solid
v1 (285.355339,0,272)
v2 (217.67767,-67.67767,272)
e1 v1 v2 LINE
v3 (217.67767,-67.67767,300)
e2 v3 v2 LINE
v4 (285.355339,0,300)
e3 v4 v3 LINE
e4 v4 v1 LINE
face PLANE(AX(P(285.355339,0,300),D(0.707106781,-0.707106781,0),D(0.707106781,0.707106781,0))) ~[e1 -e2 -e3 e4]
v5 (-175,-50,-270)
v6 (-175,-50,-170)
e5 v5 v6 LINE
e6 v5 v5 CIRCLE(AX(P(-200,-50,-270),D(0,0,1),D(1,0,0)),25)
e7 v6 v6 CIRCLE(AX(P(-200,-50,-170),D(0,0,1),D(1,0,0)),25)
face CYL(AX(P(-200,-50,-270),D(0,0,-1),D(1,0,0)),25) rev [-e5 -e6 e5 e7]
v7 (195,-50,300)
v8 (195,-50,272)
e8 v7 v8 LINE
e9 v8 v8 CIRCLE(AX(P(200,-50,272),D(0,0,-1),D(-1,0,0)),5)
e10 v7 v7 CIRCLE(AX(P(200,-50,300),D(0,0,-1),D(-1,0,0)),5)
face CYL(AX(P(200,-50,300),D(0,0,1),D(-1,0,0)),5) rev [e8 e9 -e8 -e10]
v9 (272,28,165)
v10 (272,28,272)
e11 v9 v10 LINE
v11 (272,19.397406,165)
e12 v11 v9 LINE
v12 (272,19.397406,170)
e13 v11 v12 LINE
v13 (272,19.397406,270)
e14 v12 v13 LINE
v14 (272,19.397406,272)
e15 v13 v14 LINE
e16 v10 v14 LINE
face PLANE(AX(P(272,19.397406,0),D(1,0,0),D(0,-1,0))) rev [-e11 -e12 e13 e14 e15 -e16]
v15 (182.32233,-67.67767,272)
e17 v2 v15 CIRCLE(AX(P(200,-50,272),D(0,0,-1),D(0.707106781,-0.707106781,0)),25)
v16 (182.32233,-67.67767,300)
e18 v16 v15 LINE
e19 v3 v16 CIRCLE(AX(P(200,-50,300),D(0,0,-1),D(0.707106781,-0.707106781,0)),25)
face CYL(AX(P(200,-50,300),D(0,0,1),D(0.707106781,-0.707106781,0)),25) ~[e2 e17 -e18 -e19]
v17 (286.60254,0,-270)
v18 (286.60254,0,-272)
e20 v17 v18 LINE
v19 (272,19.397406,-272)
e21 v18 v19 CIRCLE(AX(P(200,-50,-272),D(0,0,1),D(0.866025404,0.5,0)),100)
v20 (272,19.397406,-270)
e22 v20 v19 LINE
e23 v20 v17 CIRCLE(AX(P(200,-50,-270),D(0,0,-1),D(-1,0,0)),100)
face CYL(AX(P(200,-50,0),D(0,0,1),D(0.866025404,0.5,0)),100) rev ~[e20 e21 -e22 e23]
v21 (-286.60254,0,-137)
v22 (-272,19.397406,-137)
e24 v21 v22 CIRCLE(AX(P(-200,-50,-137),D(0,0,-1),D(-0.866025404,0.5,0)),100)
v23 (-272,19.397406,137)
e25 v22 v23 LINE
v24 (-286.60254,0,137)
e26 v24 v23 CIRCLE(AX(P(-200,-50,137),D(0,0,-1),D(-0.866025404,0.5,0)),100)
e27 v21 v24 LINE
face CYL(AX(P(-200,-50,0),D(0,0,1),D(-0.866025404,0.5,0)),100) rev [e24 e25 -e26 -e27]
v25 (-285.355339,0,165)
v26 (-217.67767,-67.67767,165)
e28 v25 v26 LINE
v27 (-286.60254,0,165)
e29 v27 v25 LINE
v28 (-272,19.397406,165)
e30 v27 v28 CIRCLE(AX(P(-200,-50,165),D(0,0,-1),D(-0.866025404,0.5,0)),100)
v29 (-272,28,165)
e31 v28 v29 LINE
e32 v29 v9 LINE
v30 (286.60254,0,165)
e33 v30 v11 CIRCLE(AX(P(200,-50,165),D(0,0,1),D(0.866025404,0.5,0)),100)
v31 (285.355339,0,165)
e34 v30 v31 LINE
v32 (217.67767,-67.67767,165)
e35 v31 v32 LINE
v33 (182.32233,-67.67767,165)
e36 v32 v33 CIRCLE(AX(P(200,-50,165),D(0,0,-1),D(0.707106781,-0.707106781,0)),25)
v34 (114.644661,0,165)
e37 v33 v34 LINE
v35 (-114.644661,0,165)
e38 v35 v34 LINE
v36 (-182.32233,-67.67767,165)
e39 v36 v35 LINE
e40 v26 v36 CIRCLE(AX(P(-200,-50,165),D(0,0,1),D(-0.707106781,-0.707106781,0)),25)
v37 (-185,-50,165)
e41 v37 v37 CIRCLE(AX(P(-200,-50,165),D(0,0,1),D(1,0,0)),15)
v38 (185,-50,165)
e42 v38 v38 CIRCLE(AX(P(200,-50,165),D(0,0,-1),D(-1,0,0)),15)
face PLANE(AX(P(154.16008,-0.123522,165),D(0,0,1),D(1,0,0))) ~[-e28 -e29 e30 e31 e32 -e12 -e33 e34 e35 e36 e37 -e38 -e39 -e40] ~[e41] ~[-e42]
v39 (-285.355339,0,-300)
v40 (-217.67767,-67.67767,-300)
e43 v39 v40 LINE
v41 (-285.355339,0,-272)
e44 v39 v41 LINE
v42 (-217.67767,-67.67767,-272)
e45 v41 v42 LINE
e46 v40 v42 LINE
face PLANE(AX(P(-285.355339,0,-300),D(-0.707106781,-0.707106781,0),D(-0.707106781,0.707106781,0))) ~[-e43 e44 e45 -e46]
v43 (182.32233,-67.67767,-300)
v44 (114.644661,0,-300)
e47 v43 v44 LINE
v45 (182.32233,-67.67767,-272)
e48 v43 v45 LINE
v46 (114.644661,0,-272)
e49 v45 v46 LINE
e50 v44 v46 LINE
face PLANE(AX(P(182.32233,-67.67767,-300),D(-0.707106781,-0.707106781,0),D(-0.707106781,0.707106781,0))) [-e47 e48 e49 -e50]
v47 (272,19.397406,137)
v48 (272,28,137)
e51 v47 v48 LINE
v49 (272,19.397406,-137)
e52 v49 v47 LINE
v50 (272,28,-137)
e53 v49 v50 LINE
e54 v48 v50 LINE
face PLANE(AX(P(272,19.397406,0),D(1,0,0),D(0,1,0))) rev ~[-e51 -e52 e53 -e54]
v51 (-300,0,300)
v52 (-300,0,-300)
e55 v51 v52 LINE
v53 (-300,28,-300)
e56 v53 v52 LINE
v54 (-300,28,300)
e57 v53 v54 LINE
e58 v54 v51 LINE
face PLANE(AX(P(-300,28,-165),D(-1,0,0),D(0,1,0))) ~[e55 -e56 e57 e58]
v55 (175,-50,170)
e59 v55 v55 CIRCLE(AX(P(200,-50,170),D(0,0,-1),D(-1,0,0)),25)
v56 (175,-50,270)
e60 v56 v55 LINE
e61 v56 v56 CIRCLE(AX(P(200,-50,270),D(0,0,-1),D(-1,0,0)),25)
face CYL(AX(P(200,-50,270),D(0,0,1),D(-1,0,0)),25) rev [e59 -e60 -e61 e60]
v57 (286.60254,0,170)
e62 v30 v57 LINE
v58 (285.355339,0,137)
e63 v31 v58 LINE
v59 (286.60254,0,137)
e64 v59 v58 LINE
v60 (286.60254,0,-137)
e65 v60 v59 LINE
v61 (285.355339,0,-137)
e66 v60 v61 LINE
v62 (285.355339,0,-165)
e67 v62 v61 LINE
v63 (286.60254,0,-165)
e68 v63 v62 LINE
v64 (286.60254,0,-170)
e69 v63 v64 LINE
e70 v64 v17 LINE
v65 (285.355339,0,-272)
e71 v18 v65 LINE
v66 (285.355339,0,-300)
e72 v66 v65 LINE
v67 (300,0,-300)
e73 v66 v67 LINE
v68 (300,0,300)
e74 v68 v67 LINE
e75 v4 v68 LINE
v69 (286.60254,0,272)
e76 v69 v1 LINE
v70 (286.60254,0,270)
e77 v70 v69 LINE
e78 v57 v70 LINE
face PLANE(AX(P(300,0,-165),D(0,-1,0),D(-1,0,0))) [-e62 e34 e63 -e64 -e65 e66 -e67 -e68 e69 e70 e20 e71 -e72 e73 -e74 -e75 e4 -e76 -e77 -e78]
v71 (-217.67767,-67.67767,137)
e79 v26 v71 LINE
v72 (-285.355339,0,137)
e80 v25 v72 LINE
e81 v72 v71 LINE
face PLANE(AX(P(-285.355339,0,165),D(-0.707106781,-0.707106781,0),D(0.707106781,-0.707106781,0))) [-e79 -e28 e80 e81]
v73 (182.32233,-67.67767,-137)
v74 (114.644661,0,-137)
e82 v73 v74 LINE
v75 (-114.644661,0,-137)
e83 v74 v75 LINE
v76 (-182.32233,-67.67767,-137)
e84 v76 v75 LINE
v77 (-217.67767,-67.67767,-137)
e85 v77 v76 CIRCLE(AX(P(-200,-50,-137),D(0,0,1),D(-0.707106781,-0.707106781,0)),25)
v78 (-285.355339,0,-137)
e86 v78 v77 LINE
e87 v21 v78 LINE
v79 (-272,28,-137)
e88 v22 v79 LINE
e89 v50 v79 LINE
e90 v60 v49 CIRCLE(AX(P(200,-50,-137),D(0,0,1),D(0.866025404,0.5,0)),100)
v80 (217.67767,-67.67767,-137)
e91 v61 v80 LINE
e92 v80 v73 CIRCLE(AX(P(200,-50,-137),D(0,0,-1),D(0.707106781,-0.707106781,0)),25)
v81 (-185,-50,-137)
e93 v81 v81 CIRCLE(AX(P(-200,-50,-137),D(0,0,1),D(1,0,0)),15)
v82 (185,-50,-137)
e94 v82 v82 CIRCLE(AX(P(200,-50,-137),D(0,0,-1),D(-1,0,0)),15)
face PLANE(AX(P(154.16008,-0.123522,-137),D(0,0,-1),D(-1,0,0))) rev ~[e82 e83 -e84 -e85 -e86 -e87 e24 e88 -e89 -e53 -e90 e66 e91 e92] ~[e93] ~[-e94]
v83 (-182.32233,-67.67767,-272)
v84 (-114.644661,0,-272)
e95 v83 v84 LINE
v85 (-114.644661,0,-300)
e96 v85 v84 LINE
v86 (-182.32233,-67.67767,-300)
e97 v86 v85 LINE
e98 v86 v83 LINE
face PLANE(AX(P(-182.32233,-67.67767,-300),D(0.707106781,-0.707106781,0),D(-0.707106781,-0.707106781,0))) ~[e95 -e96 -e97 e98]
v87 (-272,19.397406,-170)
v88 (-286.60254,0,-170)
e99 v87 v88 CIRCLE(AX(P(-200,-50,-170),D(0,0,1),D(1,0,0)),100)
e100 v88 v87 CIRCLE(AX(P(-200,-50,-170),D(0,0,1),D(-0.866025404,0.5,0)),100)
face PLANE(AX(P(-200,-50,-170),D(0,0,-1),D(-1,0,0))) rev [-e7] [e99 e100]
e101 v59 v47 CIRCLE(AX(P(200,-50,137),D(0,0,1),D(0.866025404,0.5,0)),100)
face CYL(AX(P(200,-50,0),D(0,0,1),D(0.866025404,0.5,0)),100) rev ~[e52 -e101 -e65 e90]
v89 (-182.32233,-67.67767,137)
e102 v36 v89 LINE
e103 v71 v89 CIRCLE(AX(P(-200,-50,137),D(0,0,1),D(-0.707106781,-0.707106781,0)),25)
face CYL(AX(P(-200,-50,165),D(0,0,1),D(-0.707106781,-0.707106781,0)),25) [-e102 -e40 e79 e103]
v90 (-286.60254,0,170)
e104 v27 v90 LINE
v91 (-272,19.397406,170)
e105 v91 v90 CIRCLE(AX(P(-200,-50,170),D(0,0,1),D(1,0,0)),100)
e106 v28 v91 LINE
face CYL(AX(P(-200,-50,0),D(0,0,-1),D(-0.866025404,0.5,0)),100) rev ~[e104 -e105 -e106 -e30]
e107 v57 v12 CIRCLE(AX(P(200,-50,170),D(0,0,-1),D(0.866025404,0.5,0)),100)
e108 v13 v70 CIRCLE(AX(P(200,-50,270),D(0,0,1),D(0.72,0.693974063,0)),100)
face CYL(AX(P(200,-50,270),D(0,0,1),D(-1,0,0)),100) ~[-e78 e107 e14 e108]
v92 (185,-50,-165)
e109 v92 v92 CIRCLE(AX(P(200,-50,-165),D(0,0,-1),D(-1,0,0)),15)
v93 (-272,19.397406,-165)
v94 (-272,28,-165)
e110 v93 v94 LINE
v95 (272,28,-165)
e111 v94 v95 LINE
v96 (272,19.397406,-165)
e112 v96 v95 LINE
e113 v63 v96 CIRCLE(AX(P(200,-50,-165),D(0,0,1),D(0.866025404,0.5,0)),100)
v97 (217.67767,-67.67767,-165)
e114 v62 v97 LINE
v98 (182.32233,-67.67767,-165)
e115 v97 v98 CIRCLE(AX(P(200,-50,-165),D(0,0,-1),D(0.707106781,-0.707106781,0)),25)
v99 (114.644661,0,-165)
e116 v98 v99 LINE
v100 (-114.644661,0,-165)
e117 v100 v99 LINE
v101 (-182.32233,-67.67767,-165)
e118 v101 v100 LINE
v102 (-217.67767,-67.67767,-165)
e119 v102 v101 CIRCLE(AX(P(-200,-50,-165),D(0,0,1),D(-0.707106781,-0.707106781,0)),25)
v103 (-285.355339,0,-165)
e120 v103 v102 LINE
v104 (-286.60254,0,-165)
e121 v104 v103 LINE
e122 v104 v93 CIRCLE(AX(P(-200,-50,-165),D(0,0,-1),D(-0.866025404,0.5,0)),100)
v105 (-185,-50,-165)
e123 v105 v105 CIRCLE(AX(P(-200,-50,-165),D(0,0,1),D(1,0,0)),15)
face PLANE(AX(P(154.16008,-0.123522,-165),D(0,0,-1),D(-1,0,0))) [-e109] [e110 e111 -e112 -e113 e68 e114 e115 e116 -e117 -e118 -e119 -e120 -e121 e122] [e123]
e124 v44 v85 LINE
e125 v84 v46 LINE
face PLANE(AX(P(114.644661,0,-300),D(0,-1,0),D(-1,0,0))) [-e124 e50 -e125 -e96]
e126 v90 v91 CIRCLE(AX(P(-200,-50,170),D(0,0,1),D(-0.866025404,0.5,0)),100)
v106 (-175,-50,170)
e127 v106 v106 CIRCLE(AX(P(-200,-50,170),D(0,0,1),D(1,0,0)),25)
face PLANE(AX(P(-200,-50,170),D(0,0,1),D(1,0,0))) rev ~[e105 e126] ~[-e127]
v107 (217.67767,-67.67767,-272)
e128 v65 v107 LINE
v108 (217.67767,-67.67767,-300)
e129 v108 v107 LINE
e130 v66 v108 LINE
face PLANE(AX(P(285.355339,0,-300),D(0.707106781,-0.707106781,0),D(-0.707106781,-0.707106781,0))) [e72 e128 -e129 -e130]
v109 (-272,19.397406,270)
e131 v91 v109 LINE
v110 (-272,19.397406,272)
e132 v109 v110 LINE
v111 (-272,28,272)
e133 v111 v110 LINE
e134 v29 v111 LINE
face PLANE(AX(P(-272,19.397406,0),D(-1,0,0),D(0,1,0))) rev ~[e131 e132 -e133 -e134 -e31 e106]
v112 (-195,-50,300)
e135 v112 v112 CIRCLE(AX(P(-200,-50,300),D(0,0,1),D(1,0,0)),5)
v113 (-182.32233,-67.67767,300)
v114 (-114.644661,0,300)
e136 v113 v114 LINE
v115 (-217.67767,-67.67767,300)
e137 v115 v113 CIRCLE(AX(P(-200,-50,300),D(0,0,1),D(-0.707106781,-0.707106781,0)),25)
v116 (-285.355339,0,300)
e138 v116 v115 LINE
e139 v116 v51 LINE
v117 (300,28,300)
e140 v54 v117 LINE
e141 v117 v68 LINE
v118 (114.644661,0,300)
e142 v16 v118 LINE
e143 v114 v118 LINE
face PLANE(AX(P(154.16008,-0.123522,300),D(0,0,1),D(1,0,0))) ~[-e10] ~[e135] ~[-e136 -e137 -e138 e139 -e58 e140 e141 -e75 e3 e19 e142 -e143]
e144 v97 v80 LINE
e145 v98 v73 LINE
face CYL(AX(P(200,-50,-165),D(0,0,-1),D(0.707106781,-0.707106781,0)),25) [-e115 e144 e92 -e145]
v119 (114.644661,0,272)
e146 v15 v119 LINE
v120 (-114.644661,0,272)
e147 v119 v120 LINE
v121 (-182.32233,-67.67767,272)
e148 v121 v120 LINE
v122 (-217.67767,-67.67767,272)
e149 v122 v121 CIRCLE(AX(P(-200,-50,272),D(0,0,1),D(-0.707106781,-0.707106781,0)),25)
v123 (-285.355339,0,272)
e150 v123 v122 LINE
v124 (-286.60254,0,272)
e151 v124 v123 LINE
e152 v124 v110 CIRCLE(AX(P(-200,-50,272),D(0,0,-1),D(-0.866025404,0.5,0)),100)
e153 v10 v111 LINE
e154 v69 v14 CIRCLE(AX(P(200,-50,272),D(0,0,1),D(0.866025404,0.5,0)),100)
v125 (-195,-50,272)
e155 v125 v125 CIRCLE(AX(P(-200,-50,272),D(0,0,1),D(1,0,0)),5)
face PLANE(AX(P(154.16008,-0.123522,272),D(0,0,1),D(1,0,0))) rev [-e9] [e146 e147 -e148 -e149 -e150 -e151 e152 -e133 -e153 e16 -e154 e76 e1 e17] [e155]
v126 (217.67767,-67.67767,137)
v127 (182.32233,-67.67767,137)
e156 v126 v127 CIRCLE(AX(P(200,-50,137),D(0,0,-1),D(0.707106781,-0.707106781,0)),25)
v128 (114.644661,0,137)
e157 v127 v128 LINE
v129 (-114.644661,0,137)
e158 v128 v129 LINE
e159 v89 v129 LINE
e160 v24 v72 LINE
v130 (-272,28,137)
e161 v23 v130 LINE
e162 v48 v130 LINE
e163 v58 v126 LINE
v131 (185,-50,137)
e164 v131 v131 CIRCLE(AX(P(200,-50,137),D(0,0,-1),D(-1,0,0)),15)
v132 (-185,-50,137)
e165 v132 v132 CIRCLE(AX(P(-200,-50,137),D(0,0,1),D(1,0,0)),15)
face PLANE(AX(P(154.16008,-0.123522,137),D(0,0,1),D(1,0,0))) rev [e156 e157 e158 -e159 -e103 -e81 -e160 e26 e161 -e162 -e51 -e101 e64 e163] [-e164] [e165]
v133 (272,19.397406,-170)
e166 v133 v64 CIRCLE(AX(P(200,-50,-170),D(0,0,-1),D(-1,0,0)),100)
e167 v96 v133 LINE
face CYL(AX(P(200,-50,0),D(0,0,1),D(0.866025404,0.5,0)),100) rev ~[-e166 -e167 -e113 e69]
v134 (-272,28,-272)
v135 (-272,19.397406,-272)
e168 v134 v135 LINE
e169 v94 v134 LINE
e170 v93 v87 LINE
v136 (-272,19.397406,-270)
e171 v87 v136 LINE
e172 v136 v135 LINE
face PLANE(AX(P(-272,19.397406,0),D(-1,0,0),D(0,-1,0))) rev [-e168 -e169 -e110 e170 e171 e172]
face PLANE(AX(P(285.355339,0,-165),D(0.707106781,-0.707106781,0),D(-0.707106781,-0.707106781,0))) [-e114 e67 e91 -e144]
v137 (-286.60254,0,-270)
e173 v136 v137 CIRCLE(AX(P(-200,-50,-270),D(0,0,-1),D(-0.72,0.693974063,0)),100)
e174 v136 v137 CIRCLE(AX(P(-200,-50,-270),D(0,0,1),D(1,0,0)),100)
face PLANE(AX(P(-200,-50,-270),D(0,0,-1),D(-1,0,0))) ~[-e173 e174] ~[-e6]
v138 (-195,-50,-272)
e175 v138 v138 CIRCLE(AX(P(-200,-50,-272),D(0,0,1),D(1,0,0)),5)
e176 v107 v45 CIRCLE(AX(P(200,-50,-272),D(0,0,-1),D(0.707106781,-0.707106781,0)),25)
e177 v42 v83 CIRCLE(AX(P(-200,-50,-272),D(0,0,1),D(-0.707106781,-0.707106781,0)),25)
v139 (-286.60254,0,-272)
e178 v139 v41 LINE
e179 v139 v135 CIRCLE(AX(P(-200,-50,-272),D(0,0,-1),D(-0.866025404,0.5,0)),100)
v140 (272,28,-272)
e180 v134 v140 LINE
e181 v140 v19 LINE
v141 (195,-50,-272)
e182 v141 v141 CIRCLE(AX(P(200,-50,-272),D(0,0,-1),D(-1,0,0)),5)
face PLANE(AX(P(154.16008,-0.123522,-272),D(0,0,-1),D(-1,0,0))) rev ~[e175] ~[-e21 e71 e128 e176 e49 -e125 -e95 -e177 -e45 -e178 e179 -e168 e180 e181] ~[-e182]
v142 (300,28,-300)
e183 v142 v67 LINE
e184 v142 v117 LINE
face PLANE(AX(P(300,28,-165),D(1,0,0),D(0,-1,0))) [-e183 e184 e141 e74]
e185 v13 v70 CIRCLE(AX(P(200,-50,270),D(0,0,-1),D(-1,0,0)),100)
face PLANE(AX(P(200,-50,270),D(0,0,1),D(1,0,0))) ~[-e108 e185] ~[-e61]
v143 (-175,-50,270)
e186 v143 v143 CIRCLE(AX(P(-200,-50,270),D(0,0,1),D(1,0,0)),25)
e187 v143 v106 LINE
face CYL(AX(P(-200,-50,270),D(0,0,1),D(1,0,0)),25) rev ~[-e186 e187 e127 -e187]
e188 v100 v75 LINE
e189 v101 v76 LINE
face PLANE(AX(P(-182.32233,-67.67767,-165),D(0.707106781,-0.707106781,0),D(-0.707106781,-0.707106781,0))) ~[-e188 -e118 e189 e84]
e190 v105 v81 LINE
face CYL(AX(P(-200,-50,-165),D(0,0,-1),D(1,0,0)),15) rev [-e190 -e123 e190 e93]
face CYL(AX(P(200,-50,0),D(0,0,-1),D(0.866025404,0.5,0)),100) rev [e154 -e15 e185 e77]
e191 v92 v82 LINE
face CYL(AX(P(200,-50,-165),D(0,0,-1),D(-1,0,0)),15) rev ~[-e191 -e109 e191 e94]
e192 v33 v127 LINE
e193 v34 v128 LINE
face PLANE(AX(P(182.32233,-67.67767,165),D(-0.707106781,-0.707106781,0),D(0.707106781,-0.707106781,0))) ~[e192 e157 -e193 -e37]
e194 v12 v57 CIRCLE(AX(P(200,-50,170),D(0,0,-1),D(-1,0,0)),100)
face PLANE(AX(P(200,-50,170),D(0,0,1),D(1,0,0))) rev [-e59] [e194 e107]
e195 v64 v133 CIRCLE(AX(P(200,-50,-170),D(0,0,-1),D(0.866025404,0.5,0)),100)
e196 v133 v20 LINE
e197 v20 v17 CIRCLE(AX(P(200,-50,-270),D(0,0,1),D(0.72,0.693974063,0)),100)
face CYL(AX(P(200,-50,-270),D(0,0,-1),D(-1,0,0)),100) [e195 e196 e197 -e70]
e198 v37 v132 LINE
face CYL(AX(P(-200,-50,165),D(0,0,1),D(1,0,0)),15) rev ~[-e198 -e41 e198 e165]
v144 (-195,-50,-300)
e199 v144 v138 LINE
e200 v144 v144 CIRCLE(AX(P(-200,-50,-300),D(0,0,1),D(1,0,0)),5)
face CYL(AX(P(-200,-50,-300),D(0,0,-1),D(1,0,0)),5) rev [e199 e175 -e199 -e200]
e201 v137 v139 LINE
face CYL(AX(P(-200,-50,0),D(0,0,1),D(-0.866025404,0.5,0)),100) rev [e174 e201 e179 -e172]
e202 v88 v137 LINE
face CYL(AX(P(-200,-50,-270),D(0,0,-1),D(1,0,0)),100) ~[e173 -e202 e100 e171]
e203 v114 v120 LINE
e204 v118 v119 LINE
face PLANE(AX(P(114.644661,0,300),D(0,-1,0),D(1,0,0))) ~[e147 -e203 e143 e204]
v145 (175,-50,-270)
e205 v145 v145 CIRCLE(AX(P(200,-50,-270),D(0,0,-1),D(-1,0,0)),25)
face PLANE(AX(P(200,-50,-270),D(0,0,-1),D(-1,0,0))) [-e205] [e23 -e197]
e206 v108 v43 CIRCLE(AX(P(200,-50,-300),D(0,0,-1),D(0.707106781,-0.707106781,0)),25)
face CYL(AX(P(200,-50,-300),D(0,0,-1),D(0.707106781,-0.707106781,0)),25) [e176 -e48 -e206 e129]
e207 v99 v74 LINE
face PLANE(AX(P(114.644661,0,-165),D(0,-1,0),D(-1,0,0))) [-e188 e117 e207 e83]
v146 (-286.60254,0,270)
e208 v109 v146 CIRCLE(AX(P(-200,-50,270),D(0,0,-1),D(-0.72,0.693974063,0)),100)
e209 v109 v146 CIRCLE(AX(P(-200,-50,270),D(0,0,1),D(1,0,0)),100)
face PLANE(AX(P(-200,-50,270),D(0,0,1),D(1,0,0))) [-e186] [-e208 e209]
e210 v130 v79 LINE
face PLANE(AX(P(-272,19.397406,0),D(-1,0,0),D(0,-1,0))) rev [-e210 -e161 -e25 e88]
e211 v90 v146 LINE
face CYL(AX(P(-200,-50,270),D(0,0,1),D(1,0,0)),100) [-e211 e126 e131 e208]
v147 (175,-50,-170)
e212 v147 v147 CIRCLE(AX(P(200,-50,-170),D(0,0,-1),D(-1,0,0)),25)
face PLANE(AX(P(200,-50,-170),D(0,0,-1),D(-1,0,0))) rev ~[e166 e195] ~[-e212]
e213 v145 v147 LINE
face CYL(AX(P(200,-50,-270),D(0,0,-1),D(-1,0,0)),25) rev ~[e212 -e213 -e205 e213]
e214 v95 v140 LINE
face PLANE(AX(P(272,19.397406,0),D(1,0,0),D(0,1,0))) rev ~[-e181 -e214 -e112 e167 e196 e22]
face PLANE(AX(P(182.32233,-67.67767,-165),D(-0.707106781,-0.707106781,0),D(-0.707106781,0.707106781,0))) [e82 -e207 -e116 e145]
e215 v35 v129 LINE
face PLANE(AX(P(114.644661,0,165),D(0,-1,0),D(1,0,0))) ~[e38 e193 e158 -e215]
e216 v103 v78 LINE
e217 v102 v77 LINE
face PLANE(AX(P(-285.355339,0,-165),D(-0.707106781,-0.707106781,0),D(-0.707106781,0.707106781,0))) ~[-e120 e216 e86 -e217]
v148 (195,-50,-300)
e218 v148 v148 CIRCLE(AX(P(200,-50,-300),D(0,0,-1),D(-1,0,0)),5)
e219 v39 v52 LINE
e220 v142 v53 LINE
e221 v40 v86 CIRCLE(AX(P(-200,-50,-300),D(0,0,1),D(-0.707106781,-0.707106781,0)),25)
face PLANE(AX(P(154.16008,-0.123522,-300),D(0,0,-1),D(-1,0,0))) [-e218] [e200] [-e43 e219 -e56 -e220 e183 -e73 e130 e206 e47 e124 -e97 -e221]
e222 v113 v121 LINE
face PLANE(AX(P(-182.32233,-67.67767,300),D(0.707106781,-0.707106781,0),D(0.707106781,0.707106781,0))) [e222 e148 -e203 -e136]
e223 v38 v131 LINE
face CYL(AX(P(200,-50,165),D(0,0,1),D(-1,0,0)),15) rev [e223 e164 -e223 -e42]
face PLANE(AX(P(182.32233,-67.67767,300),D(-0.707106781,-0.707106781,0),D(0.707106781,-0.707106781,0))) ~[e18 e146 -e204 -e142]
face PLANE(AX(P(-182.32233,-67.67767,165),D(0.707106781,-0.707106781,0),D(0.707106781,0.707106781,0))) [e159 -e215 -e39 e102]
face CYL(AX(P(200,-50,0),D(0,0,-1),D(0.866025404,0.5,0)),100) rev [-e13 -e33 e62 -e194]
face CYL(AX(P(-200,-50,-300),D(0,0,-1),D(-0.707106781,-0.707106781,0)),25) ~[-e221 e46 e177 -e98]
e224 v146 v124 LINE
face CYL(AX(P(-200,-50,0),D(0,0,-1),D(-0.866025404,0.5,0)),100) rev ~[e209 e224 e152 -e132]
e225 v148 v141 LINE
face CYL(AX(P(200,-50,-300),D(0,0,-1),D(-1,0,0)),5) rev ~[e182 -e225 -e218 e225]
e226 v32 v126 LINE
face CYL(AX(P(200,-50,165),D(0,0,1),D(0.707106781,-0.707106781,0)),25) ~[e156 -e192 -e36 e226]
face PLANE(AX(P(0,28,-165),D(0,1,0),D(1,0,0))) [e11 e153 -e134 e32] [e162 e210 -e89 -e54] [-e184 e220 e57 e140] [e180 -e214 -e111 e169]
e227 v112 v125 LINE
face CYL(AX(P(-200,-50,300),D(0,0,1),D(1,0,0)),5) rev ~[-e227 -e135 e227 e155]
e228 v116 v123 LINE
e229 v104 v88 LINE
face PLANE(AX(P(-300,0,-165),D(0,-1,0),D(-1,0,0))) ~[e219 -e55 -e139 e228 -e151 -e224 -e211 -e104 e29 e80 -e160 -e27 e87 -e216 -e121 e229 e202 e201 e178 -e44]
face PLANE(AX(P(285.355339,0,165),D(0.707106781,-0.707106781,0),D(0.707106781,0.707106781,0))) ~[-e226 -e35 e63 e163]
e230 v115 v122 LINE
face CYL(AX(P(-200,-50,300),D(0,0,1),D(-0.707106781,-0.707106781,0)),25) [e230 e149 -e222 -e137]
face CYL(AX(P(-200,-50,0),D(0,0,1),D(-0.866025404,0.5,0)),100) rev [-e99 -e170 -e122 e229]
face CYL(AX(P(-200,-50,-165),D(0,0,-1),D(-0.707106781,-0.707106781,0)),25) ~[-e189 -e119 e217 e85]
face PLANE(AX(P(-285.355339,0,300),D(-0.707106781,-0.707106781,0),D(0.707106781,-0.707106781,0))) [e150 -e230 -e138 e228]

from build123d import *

# Parameters (mm, degrees)
BOSS_EXTRUDE1_START = 300
SKETCH1_R           = 5
BOSS_EXTRUDE1_DEPTH = 28
BOSS_EXTRUDE2_DEPTH = 300
BOSS_EXTRUDE3_START = 270
SKETCH1_5_R         = 100
SKETCH1_5_R_2       = 25
BOSS_EXTRUDE3_DEPTH = 100
BOSS_EXTRUDE4_START = 165
SKETCH1_6_R         = 15
BOSS_EXTRUDE4_DEPTH = 28


with BuildPart() as part:
    # Sketch1 → Boss-Extrude1 (new body)
    with BuildSketch(Plane.XY.offset(BOSS_EXTRUDE1_START)):
        with BuildLine():
            Line((-182.32233047, -67.67766953), (-114.644660941, 0))
            Line((-114.644660941, 0), (0, 0))
            Line((0, 0), (0, 28))
            Line((0, 28), (-300, 28))
            Line((-300, 28), (-300, 0))
            Line((-300, 0), (-285.355339059, 0))
            Line((-285.355339059, 0), (-217.67766953, -67.67766953))
            ThreePointArc((-217.67766953, -67.67766953), (-200, -75), (-182.32233047, -67.67766953))
        make_face()
        with Locations((-200, -50)):
            Circle(SKETCH1_R, mode=Mode.SUBTRACT)
    extrude(amount=-BOSS_EXTRUDE1_DEPTH)

    # Sketch1<4> → Boss-Extrude2 (add)
    with BuildSketch(Plane.XY):
        with BuildLine():
            ThreePointArc((-286.602540378, 0), (-279.89215416, 10.143525867), (-272, 19.397406292))
            Line((-272, 19.397406292), (-272, 28))
            Line((-272, 28), (-300, 28))
            Line((-300, 28), (-300, 0))
            Line((-300, 0), (-286.602540378, 0))
        make_face()
    extrude(amount=BOSS_EXTRUDE2_DEPTH)

    # Sketch1<5> → Boss-Extrude3 (add)
    with BuildSketch(Plane.XY.offset(BOSS_EXTRUDE3_START)):
        with Locations((-200, -50)):
            Circle(SKETCH1_5_R)
        with Locations((-200, -50)):
            Circle(SKETCH1_5_R_2, mode=Mode.SUBTRACT)
    extrude(amount=-BOSS_EXTRUDE3_DEPTH)

    # Sketch1<6> → Boss-Extrude4 (add)
    with BuildSketch(Plane.XY.offset(BOSS_EXTRUDE4_START)):
        with BuildLine():
            Line((-182.32233047, -67.67766953), (-114.644660941, 0))
            Line((-114.644660941, 0), (0, 0))
            Line((0, 0), (0, 28))
            Line((0, 28), (-300, 28))
            Line((-300, 28), (-300, 0))
            Line((-300, 0), (-285.355339059, 0))
            Line((-285.355339059, 0), (-217.67766953, -67.67766953))
            ThreePointArc((-217.67766953, -67.67766953), (-200, -75), (-182.32233047, -67.67766953))
        make_face()
        with Locations((-200, -50)):
            Circle(SKETCH1_6_R, mode=Mode.SUBTRACT)
    extrude(amount=-BOSS_EXTRUDE4_DEPTH)

    # Mirror1: part across plane


with BuildPart() as part_1:
    add(part.part)
    add(part.part.mirror(Plane.XY))

    # Mirror2: part across plane


with BuildPart() as part_2:
    add(part_1.part)
    add(part_1.part.mirror(Plane(origin=(0, 0, 0), x_dir=(0, 0, 1), z_dir=(1, 0, 0))))


solid = part_2.part
